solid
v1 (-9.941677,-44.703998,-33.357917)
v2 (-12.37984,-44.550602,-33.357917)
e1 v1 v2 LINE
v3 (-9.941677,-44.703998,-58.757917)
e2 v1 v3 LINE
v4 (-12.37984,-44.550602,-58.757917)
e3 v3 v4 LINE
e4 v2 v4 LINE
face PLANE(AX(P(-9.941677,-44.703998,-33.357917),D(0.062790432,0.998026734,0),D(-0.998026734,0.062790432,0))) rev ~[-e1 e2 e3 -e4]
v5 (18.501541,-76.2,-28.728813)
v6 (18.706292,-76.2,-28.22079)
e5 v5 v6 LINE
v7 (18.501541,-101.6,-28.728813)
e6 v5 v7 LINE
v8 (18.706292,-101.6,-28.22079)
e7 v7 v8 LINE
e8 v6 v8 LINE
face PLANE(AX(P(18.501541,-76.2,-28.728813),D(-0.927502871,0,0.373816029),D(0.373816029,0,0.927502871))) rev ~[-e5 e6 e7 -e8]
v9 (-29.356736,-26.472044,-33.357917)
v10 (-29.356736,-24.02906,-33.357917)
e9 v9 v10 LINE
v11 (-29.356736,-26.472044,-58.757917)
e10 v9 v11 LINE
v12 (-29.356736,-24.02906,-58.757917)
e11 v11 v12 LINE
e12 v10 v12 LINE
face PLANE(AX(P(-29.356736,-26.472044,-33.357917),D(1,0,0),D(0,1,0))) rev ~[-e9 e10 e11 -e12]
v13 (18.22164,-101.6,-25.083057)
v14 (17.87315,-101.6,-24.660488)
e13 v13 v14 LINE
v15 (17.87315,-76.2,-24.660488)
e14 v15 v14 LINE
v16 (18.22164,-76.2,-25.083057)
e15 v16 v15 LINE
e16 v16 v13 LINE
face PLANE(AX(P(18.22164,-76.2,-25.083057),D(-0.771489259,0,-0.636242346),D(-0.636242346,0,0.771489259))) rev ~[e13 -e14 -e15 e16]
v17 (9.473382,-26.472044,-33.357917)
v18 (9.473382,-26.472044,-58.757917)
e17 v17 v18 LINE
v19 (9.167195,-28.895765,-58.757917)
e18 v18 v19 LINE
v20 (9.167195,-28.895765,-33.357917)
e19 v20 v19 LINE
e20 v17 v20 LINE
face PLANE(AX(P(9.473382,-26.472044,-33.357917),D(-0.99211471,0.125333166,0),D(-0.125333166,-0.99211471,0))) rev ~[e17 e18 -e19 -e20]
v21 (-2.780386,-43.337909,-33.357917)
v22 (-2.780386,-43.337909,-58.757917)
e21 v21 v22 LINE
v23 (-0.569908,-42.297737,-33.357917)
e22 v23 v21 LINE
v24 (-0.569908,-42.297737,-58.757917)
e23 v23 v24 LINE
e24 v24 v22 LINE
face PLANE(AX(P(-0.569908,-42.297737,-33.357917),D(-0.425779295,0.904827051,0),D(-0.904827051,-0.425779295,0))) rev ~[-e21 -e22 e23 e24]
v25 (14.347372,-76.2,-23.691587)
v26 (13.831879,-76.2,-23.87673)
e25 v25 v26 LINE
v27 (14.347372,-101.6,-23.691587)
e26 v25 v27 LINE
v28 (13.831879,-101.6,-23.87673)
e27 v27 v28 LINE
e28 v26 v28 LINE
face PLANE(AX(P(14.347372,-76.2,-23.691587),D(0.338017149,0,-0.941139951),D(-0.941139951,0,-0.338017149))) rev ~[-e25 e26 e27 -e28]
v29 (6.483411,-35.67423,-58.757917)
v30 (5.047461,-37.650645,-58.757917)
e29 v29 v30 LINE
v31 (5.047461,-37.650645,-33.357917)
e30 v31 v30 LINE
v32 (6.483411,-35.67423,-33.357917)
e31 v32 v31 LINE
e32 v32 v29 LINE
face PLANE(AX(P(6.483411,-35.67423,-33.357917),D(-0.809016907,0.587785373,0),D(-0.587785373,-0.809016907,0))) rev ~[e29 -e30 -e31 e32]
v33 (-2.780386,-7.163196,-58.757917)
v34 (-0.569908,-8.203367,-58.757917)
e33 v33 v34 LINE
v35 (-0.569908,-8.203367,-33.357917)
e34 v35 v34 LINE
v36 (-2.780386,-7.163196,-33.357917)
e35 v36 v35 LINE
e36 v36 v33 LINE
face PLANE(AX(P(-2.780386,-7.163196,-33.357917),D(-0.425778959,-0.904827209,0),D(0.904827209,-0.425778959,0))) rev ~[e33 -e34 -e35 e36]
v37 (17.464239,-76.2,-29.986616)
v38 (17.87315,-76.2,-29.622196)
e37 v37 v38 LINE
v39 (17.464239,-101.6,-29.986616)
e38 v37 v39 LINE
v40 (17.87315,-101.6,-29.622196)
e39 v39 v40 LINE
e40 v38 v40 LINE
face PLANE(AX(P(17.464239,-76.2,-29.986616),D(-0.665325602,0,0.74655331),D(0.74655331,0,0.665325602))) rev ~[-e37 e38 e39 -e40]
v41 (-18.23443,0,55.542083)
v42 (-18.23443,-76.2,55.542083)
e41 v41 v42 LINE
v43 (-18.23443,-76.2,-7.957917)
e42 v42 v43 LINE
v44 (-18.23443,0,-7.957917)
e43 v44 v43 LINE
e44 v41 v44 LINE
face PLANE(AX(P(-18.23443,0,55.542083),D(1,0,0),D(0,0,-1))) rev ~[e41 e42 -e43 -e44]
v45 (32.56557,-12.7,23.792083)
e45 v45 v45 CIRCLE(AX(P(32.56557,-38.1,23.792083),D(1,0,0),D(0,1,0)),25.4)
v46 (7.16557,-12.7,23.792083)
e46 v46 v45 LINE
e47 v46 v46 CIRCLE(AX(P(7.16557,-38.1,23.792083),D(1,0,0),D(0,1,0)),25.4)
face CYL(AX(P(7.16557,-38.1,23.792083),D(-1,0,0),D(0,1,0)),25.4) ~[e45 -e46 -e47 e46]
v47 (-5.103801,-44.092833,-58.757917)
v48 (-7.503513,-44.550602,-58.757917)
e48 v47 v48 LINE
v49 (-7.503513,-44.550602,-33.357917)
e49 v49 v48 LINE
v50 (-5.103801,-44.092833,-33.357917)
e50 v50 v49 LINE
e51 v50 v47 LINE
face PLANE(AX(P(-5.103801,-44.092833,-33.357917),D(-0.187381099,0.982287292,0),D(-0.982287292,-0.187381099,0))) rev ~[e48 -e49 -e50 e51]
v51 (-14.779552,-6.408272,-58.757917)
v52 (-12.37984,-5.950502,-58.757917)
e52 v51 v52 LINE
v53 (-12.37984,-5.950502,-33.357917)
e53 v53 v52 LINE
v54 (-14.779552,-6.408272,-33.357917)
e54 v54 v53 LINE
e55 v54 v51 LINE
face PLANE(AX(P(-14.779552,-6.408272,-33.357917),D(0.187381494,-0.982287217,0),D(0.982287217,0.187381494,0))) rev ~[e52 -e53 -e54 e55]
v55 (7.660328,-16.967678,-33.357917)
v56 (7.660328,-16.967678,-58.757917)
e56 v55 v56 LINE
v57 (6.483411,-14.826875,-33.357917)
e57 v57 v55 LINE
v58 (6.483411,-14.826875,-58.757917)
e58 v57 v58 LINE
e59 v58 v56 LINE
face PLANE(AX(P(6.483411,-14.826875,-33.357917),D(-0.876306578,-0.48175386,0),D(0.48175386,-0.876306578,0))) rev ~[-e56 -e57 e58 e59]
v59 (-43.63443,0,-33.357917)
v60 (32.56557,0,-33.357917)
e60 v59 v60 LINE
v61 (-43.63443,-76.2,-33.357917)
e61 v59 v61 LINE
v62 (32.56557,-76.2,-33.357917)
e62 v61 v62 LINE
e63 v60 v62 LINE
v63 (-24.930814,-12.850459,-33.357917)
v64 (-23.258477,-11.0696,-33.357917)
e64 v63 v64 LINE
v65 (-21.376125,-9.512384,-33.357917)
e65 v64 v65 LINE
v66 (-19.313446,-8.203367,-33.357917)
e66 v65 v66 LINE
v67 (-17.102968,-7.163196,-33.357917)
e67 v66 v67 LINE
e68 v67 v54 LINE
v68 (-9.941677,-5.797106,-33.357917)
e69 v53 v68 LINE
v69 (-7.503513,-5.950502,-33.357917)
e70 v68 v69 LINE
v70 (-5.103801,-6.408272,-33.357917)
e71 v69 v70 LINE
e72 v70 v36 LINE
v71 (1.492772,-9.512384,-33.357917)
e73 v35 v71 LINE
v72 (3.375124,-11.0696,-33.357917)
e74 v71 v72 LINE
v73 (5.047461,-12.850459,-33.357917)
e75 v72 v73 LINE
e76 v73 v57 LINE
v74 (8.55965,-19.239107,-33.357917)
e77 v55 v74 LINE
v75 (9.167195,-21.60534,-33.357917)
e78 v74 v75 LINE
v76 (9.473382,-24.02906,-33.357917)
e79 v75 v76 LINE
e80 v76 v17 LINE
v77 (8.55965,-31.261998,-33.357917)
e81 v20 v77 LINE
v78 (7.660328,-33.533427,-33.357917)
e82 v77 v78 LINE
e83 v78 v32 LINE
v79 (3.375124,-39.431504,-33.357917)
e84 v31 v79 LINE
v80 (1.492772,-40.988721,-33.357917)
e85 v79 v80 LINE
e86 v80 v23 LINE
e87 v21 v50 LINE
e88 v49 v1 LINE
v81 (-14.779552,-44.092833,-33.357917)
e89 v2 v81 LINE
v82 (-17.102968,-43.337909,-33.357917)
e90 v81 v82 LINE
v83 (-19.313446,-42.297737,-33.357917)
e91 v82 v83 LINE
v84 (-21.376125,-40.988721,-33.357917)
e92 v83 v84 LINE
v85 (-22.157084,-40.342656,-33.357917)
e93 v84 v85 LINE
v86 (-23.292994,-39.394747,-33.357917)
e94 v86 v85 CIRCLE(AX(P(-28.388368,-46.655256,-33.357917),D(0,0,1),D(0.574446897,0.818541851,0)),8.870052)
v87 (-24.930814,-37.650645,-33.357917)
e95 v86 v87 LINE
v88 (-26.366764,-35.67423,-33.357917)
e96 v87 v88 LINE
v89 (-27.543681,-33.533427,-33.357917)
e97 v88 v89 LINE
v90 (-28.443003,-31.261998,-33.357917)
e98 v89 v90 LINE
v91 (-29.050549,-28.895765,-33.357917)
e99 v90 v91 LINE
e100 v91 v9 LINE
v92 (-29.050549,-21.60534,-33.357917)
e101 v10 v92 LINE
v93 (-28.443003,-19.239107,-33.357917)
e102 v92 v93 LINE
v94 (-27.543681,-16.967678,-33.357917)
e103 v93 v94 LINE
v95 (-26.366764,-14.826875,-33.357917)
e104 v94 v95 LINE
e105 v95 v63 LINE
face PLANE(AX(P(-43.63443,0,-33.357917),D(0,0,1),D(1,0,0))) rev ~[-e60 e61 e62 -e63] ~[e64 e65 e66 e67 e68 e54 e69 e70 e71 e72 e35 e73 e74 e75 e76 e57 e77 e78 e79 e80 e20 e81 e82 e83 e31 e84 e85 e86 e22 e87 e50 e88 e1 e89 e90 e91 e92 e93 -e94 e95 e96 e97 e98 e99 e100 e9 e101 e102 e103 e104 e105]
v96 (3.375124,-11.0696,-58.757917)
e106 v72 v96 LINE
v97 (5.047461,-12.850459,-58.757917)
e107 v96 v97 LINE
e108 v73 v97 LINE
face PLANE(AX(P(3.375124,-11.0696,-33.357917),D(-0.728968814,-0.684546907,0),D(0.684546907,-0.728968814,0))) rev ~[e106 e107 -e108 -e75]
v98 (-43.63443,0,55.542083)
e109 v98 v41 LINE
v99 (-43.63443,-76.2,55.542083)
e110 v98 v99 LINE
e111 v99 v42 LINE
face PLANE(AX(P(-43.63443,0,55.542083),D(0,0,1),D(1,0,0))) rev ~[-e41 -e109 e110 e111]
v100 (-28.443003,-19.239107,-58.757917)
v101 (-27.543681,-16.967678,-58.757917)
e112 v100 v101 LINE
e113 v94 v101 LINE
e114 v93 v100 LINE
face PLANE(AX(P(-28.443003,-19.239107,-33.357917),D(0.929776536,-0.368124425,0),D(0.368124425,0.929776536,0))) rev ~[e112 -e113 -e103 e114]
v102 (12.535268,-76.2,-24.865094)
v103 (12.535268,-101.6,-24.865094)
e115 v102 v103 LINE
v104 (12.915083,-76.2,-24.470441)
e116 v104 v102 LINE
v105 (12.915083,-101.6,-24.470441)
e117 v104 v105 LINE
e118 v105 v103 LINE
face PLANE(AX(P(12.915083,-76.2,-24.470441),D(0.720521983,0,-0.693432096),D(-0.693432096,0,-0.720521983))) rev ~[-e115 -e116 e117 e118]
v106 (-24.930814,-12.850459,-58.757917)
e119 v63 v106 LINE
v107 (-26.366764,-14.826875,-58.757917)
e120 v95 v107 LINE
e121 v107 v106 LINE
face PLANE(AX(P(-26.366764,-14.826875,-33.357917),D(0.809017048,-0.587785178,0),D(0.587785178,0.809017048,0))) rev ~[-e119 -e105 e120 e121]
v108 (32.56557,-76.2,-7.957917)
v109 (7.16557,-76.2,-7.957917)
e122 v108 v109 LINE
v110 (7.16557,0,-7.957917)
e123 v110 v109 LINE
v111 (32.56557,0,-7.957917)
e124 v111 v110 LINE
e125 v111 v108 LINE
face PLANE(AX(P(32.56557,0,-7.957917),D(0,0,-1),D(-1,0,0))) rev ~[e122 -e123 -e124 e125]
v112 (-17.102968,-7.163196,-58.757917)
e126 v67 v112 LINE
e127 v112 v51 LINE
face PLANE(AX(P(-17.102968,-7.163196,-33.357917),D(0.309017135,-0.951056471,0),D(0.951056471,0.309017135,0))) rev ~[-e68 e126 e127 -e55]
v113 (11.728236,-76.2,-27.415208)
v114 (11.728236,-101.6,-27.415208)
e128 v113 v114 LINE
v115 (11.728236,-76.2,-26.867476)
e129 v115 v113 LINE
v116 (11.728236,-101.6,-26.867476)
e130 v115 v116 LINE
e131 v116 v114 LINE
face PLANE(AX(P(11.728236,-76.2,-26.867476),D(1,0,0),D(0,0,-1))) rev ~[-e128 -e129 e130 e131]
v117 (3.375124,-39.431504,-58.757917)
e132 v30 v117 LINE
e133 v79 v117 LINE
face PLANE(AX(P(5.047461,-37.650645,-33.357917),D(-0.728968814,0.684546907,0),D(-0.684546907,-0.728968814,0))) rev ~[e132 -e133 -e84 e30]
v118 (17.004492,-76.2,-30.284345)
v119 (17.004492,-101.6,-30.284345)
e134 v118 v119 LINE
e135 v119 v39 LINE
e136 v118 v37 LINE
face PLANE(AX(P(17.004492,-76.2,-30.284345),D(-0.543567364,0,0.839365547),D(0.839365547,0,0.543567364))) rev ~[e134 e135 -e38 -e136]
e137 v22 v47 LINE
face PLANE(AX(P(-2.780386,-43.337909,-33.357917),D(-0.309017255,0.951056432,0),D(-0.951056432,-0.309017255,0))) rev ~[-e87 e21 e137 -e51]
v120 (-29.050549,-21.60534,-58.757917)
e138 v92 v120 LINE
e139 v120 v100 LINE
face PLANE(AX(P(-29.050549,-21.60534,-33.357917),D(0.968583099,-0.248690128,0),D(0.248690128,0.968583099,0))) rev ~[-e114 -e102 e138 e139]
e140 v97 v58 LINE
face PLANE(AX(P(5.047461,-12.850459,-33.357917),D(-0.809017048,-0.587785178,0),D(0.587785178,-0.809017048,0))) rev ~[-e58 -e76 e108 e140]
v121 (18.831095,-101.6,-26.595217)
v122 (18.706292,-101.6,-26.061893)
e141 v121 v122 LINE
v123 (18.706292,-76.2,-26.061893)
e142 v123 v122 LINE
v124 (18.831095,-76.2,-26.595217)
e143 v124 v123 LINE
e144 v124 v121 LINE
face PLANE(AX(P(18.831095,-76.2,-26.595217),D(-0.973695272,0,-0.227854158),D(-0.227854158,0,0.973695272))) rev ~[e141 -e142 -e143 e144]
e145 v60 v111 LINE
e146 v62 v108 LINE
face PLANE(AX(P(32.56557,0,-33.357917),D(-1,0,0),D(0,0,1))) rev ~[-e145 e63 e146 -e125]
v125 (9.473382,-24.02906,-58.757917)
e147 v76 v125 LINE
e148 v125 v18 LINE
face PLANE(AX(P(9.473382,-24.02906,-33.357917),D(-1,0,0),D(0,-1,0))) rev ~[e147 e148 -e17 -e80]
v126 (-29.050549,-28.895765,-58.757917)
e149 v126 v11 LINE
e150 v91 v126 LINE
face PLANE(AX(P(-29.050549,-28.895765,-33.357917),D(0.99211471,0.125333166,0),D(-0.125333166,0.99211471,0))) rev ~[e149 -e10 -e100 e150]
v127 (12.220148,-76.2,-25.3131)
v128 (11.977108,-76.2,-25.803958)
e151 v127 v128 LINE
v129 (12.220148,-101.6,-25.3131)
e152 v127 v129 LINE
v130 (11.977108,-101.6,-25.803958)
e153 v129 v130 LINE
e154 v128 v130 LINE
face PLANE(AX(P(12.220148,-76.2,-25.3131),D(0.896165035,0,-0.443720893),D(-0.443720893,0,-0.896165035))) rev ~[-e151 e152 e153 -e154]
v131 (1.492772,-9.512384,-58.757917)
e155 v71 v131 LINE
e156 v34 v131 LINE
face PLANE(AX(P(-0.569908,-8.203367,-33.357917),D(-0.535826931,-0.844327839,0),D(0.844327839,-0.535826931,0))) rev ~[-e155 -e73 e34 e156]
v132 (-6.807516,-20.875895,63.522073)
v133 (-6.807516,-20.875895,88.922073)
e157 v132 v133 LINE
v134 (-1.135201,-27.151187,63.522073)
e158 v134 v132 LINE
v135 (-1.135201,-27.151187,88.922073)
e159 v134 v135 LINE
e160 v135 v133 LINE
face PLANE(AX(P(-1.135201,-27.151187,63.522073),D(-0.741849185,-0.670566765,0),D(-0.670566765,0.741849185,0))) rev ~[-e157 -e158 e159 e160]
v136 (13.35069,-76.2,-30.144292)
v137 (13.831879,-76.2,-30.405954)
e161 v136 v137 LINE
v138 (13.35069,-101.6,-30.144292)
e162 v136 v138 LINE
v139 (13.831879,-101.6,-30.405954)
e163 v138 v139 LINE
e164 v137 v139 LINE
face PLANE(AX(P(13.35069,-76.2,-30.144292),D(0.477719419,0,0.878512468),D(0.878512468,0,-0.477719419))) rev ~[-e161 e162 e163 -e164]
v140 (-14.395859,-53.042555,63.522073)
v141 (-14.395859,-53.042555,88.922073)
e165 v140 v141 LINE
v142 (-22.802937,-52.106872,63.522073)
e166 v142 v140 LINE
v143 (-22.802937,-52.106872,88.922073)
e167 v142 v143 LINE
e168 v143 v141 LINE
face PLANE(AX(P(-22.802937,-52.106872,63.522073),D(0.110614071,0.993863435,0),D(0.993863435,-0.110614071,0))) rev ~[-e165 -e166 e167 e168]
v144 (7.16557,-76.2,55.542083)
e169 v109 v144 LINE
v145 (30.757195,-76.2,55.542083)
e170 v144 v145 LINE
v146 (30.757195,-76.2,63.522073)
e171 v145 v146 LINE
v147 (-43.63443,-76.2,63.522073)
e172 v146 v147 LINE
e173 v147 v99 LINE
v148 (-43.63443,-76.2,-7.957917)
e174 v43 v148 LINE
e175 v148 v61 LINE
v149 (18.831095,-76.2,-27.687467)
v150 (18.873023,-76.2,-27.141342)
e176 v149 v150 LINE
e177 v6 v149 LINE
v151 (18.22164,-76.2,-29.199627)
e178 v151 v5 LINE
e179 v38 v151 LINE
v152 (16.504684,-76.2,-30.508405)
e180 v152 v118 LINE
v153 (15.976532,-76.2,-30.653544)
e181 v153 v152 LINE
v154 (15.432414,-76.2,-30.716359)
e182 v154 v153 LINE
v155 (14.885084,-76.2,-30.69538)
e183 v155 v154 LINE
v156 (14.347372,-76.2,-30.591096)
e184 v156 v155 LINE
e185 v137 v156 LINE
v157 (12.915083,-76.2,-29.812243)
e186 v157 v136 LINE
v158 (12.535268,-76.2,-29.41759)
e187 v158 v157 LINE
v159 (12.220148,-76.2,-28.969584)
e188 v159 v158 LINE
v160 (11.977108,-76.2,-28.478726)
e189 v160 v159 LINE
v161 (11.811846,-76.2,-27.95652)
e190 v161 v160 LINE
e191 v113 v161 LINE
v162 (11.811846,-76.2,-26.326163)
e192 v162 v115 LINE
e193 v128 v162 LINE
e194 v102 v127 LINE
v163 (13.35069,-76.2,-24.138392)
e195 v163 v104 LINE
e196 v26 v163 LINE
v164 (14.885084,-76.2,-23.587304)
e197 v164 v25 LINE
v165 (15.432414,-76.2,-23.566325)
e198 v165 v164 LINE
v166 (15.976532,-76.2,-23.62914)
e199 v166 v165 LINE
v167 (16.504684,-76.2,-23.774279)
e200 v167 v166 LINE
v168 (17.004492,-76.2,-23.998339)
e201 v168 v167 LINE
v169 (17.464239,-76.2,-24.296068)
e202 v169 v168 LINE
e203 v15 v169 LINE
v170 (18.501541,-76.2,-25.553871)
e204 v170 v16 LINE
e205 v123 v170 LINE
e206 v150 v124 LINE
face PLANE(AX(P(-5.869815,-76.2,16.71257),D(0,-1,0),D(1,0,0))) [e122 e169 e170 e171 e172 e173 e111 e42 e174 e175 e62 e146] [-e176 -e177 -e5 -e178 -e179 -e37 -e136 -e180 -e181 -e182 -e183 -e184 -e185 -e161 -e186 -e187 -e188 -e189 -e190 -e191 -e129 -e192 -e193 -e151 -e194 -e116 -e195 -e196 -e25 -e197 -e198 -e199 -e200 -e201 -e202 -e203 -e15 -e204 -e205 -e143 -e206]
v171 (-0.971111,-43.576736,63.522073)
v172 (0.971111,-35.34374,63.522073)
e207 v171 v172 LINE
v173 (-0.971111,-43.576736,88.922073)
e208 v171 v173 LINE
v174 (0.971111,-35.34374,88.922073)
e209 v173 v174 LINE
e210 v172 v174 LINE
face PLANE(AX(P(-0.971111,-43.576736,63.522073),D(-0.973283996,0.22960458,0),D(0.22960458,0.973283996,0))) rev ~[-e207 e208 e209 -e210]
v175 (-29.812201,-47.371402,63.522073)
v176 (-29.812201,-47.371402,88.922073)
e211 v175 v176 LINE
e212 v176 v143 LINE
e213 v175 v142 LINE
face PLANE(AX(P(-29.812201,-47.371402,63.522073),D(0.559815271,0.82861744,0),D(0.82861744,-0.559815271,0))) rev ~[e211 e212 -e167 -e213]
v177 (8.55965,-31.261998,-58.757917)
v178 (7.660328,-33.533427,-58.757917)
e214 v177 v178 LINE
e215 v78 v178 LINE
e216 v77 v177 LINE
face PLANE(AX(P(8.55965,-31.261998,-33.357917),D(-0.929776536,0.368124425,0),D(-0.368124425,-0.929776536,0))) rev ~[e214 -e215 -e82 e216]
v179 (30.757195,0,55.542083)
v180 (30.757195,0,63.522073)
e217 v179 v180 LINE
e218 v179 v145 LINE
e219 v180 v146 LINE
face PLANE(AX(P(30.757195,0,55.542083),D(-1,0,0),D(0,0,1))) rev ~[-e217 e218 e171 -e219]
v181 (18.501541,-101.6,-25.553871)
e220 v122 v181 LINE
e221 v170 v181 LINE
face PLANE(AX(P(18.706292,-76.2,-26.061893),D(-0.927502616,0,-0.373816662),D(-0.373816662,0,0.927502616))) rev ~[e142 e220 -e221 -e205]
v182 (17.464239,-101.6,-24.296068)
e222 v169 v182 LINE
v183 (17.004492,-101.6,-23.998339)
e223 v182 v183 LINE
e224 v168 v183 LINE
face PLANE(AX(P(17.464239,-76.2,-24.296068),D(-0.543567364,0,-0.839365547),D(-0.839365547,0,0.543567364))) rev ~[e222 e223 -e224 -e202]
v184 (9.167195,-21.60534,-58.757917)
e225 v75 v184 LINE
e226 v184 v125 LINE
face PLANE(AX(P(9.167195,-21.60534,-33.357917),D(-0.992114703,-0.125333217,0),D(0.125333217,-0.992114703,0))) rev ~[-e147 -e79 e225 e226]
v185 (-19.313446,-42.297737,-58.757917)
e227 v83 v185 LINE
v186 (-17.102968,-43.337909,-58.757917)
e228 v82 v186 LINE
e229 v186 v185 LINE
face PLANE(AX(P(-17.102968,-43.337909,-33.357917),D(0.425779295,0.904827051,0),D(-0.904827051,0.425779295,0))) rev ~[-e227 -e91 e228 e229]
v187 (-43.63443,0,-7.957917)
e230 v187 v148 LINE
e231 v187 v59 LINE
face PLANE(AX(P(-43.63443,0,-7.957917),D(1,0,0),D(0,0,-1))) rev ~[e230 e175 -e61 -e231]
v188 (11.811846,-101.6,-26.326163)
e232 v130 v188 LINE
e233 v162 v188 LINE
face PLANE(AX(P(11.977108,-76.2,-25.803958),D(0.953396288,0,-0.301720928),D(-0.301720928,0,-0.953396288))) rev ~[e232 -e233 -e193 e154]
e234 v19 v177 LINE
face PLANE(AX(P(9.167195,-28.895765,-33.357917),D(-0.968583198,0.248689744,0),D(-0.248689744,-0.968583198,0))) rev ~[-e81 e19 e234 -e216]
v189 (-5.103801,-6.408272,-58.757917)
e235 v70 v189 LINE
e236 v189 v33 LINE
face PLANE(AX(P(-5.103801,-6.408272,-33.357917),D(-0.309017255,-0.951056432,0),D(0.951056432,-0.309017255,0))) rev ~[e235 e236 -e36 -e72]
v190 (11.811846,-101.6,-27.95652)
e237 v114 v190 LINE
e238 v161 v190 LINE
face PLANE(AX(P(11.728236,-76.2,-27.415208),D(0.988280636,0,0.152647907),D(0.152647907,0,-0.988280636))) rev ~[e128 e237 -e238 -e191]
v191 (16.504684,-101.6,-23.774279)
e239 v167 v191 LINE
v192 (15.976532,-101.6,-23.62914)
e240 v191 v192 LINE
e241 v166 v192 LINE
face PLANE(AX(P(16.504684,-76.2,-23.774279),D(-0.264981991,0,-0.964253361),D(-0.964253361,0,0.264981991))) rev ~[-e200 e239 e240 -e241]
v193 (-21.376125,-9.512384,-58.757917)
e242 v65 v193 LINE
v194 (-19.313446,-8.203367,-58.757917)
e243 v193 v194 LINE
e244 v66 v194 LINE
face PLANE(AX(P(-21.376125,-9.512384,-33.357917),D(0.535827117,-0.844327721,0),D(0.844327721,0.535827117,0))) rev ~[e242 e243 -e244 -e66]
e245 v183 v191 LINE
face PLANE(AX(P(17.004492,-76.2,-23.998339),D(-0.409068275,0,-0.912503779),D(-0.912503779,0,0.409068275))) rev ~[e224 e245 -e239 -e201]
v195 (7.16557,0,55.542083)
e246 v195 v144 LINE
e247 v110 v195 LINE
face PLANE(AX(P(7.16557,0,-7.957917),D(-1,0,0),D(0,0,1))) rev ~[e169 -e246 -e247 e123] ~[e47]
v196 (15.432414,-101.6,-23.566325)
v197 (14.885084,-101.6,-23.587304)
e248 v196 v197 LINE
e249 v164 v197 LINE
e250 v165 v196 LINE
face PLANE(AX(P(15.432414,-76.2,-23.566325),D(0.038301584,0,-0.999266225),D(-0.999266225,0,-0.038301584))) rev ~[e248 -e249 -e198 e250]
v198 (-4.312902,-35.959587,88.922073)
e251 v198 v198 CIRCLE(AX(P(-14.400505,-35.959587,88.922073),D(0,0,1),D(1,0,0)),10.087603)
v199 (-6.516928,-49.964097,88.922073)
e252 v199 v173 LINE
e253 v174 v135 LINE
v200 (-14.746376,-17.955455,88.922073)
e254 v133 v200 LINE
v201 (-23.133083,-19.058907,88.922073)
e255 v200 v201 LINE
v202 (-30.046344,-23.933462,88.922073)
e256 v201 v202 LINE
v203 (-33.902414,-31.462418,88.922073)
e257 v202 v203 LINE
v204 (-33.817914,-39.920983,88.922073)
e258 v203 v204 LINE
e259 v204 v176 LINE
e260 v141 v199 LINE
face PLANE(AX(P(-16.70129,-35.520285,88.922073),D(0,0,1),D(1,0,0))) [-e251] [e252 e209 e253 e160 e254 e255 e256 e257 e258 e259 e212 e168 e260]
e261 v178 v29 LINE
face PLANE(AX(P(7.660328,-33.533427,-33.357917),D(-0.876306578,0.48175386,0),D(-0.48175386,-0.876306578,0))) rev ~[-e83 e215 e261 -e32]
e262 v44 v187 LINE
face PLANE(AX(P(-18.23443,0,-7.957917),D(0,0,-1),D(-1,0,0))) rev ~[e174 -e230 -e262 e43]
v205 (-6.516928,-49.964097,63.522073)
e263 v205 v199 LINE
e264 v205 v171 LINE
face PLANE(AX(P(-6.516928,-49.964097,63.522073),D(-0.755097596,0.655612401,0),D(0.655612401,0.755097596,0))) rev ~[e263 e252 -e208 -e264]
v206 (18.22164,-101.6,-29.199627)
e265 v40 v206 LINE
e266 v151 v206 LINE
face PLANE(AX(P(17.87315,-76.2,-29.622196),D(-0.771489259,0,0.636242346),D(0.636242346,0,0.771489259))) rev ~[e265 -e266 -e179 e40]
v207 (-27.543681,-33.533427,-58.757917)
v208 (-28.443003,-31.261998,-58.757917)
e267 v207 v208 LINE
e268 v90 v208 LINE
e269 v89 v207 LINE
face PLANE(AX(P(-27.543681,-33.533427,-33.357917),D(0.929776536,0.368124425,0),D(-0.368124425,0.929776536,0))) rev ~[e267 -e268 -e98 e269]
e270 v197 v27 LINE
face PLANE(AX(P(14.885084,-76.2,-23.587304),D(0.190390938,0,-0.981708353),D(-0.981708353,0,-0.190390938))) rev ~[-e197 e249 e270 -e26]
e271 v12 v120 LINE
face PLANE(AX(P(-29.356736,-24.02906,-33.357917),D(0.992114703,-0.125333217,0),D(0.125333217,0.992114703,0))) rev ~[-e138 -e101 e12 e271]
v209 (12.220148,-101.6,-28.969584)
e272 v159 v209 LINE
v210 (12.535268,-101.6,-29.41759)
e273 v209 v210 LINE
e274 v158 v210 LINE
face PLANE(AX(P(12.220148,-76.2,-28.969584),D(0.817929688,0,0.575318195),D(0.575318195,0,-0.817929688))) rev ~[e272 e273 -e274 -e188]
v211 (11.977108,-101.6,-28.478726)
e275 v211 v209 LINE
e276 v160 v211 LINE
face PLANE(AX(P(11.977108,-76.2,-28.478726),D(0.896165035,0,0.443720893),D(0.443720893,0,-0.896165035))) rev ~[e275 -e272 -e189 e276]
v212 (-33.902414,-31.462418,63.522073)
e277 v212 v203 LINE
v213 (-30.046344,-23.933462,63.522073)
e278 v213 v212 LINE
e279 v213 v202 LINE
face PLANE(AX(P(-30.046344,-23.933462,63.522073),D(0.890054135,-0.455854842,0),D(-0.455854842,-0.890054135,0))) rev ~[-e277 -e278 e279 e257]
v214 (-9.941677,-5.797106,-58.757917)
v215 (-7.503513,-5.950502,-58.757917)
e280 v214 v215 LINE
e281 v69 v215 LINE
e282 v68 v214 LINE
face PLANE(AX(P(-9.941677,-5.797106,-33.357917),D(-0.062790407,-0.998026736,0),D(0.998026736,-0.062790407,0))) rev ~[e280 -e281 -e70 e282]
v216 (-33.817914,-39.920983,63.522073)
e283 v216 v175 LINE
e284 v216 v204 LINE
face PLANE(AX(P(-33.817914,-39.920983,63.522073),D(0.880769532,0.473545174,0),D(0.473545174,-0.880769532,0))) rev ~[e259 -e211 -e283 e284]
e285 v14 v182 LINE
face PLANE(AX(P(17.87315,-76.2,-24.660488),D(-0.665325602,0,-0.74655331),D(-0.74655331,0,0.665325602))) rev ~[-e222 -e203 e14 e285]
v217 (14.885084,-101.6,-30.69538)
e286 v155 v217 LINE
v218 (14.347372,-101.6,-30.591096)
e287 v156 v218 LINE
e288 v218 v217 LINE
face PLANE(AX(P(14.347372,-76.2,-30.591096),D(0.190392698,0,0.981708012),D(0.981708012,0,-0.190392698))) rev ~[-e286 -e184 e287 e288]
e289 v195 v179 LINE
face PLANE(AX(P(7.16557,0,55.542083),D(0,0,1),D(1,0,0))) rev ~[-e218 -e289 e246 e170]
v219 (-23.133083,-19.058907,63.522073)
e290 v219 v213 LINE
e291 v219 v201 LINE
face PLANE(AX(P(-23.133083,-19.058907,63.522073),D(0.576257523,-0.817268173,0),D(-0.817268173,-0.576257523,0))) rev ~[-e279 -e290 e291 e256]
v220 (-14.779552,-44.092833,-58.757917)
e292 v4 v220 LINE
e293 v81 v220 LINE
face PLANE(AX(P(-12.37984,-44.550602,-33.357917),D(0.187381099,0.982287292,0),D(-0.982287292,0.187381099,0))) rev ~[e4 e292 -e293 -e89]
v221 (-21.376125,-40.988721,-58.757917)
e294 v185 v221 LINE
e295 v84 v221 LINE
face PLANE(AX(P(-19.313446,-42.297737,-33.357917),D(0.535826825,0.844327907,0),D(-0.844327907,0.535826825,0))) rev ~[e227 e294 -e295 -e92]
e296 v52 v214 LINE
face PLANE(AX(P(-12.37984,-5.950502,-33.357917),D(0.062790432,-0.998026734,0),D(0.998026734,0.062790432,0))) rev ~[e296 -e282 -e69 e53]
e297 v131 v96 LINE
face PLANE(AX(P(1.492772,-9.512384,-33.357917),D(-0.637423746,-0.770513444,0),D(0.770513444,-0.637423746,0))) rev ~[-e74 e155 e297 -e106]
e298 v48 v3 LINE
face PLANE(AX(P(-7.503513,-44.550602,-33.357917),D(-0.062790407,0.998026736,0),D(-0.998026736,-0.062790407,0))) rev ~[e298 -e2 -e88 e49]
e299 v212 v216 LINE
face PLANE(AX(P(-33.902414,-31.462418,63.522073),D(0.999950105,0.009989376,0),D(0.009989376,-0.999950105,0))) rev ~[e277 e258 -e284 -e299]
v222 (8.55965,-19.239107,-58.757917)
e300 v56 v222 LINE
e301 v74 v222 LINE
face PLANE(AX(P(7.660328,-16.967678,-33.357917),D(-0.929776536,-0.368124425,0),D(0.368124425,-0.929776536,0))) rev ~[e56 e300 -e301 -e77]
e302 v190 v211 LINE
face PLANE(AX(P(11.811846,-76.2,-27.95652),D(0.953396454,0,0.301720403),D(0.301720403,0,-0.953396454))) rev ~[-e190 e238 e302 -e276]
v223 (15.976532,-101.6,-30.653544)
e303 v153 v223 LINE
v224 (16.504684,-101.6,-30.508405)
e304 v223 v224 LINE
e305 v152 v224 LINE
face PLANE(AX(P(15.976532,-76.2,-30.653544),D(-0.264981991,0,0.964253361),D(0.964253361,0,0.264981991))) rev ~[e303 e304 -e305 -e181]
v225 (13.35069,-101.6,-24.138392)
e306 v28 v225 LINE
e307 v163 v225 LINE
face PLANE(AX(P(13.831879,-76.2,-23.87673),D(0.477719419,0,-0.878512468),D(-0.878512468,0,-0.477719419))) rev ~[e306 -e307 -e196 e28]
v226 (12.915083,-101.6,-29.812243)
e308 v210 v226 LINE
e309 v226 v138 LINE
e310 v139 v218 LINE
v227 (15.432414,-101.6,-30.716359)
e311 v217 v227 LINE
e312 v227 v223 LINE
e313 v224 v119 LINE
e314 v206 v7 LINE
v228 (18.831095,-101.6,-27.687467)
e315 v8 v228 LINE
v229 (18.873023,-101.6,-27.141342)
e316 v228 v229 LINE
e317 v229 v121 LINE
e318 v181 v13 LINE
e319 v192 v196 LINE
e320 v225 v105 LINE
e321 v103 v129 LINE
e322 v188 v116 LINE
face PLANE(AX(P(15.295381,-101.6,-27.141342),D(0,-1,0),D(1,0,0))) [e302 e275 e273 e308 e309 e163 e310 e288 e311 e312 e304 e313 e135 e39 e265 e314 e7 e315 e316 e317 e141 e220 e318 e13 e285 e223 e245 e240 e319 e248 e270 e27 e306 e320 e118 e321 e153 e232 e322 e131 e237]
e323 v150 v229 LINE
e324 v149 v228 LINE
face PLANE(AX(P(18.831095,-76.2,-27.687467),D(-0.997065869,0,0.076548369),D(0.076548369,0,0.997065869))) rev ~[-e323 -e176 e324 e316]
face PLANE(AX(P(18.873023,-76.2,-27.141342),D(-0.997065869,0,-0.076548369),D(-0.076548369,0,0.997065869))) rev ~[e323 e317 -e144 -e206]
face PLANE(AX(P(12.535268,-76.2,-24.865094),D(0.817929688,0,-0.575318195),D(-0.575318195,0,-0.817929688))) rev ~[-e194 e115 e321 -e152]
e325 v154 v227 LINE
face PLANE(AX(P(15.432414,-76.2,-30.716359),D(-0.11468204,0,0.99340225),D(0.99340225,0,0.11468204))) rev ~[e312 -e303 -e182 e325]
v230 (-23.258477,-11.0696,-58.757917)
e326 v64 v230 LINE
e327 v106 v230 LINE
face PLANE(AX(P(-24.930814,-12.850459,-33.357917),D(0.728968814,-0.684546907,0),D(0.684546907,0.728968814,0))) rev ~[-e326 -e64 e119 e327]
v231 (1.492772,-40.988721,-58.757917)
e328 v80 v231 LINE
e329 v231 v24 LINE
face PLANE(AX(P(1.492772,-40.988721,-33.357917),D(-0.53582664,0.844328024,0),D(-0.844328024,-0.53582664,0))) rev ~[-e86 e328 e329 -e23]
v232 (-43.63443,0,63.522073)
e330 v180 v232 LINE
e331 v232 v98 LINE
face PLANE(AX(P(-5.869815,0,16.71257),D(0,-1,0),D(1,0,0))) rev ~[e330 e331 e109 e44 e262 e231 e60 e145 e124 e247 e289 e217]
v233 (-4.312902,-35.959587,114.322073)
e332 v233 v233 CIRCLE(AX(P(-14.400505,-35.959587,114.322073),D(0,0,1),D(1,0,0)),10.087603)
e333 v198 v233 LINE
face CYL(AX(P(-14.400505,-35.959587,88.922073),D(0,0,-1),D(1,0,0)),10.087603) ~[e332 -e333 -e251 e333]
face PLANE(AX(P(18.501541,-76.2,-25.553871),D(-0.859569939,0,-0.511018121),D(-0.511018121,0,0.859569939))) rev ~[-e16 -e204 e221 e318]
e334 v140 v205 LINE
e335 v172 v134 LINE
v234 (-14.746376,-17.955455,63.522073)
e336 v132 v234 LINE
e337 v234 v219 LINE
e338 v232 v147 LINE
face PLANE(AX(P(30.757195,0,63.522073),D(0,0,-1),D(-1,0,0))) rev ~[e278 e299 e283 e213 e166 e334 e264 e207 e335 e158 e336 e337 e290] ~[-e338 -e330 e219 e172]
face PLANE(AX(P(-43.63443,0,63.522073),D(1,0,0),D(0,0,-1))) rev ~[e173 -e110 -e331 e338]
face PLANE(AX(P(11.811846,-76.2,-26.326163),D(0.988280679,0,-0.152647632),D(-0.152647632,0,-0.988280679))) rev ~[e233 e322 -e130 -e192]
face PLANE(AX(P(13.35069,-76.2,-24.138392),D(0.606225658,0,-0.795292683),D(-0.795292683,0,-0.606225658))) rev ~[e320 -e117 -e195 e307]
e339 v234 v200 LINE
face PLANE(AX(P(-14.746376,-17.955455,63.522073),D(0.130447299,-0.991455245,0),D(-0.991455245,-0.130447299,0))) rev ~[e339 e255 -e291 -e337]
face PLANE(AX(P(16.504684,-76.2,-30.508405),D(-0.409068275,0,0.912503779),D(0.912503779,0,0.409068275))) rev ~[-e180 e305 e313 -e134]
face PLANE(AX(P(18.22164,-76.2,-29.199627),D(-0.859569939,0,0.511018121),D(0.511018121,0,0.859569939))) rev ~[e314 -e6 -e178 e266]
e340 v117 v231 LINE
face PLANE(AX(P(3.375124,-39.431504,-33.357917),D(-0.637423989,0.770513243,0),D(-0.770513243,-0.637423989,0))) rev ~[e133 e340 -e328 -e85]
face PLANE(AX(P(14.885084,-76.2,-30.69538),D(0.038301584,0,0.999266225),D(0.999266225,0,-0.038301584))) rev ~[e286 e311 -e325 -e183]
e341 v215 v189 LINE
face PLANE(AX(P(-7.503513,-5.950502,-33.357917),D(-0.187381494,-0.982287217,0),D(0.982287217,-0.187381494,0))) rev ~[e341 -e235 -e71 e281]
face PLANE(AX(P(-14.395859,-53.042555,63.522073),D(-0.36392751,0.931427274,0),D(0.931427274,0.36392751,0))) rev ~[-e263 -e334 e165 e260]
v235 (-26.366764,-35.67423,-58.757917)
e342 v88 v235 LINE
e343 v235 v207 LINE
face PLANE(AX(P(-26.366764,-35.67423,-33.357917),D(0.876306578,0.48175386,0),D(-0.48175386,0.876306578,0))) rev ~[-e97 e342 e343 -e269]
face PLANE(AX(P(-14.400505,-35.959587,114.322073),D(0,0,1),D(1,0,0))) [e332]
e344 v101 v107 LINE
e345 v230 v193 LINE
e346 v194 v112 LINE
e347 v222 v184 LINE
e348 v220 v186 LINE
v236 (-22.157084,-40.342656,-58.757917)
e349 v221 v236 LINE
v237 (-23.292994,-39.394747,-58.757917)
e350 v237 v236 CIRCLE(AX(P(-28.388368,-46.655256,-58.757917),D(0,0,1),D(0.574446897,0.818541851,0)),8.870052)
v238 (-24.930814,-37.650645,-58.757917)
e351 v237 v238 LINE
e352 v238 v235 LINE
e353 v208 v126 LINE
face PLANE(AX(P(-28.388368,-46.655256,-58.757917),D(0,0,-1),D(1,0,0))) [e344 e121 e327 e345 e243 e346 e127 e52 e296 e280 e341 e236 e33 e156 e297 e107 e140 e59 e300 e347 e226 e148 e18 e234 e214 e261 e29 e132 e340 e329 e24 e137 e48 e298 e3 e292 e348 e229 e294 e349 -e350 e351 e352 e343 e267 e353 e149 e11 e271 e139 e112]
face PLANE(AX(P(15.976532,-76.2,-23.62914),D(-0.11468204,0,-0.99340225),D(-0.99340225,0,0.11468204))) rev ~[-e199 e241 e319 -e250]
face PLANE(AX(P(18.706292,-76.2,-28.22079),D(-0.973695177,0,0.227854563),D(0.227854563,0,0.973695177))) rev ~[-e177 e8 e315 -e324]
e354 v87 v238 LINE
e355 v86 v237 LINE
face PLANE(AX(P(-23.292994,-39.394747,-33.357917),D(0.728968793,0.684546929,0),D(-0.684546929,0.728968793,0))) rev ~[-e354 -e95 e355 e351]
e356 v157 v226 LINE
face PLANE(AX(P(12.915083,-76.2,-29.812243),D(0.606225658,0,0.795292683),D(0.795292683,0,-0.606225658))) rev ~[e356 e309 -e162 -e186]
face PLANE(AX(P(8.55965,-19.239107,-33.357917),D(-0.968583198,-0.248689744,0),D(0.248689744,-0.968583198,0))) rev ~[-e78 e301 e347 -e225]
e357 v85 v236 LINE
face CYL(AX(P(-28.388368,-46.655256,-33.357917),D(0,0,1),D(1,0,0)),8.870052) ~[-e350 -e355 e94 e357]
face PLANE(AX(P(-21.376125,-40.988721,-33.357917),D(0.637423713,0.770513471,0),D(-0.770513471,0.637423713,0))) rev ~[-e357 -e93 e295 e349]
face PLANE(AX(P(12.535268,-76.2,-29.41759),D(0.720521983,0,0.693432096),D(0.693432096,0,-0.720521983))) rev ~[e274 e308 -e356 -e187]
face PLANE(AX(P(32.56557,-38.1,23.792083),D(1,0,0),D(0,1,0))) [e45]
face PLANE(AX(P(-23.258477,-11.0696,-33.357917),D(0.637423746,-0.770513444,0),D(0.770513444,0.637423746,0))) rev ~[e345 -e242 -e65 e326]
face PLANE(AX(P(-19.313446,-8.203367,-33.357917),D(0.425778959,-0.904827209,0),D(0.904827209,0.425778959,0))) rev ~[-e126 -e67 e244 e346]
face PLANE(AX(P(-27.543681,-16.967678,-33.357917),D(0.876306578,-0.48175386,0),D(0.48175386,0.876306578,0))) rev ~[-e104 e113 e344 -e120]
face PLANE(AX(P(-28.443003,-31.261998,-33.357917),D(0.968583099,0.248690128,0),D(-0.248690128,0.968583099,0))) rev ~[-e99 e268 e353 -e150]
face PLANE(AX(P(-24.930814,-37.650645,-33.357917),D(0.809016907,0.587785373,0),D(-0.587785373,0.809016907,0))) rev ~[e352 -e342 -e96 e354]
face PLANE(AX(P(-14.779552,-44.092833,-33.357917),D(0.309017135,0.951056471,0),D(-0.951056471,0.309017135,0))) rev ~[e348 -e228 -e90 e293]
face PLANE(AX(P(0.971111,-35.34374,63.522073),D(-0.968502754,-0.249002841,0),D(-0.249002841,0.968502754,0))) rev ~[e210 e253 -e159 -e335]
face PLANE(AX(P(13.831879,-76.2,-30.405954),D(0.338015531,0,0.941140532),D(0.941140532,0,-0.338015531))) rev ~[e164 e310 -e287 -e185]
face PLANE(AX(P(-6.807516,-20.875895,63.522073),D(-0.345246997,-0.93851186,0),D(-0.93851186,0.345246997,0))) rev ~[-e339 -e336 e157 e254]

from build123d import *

# Parameters (mm, degrees)
F1_DEPTH  = 76.2
F2_R      = 25.4
F3_DEPTH  = 25.4
F5_DEPTH  = 25.4
F6_R      = 10.087603
F7_DEPTH  = 25.4
F9_DEPTH  = 25.4
F10_R     = 8.870052
F11_DEPTH = 25.4
F13_DEPTH = 25.4


with BuildPart() as f1:
    # F0 (on Front) → F1 (new body)
    with BuildSketch(Plane.XZ):
        Polygon((-43.63443, -7.957917), (-43.63443, -33.357917), (32.56557, -33.357917), (32.56557, -7.957917), (7.16557, -7.957917), (7.16557, 55.542083), (30.757195, 55.542083), (30.757195, 63.522073), (-43.63443, 63.522073), (-43.63443, 55.542083), (-18.23443, 55.542083), (-18.23443, -7.957917), align=None)
    extrude(amount=F1_DEPTH)

    # F2 (on face) → F3 (join)
    with BuildSketch(Plane.YZ.offset(7.16557)):
        with Locations((-38.1, 23.792083)):
            Circle(F2_R)
    extrude(amount=F3_DEPTH)

    # F4 (on face) → F5 (join)
    with BuildSketch(Plane.XY.offset(63.522073)):
        Polygon((-0.971111, -43.576736), (0.971111, -35.34374), (-1.135201, -27.151187), (-6.807516, -20.875895), (-14.746376, -17.955455), (-23.133083, -19.058907), (-30.046344, -23.933462), (-33.902414, -31.462418), (-33.817914, -39.920983), (-29.812201, -47.371402), (-22.802937, -52.106872), (-14.395859, -53.042555), (-6.516928, -49.964097), align=None)
    extrude(amount=F5_DEPTH)

    # F6 (on face) → F7 (join)
    with BuildSketch(Plane.XY.offset(88.922073)):
        with Locations((-14.400505, -35.959587)):
            Circle(F6_R)
    extrude(amount=F7_DEPTH)

    # F8 (on face) → F9 (join)
    with BuildSketch(Plane.XZ.offset(76.2)):
        Polygon((11.728236, -26.867476), (11.728236, -27.415208), (11.811846, -27.95652), (11.977108, -28.478726), (12.220148, -28.969584), (12.535268, -29.41759), (12.915083, -29.812243), (13.35069, -30.144292), (13.831879, -30.405954), (14.347372, -30.591096), (14.885084, -30.69538), (15.432414, -30.716359), (15.976532, -30.653544), (16.504684, -30.508405), (17.004492, -30.284345), (17.464239, -29.986616), (17.87315, -29.622196), (18.22164, -29.199627), (18.501541, -28.728813), (18.706292, -28.22079), (18.831095, -27.687467), (18.873023, -27.141342), (18.831095, -26.595217), (18.706292, -26.061893), (18.501541, -25.553871), (18.22164, -25.083057), (17.87315, -24.660488), (17.464239, -24.296068), (17.004492, -23.998339), (16.504684, -23.774279), (15.976532, -23.62914), (15.432414, -23.566325), (14.885084, -23.587304), (14.347372, -23.691587), (13.831879, -23.87673), (13.35069, -24.138392), (12.915083, -24.470441), (12.535268, -24.865094), (12.220148, -25.3131), (11.977108, -25.803958), (11.811846, -26.326163), align=None)
    extrude(amount=F9_DEPTH)

    # F10 (on face) → F11 (join)
    with BuildSketch(Plane(origin=(0, 0, -33.357917), x_dir=(1, 0, 0), z_dir=(0, 0, -1))):
        with Locations((-28.388368, 46.655256)):
            Circle(F10_R)
    extrude(amount=F11_DEPTH)

    # F12 (on face) → F13 (join)
    with BuildSketch(Plane(origin=(0, 0, -33.357917), x_dir=(1, 0, 0), z_dir=(0, 0, -1))):
        with BuildLine():
            Line((9.473382, 24.02906), (9.473382, 26.472044))
            Line((9.473382, 26.472044), (9.167195, 28.895765))
            Line((9.167195, 28.895765), (8.55965, 31.261998))
            Line((8.55965, 31.261998), (7.660328, 33.533427))
            Line((7.660328, 33.533427), (6.483411, 35.67423))
            Line((6.483411, 35.67423), (5.047461, 37.650645))
            Line((5.047461, 37.650645), (3.375124, 39.431504))
            Line((3.375124, 39.431504), (1.492772, 40.988721))
            Line((1.492772, 40.988721), (-0.569908, 42.297737))
            Line((-0.569908, 42.297737), (-2.780386, 43.337909))
            Line((-2.780386, 43.337909), (-5.103801, 44.092833))
            Line((-5.103801, 44.092833), (-7.503513, 44.550602))
            Line((-7.503513, 44.550602), (-9.941677, 44.703998))
            Line((-9.941677, 44.703998), (-12.37984, 44.550602))
            Line((-12.37984, 44.550602), (-14.779552, 44.092833))
            Line((-14.779552, 44.092833), (-17.102968, 43.337909))
            Line((-17.102968, 43.337909), (-19.313446, 42.297737))
            Line((-19.313446, 42.297737), (-21.376125, 40.988721))
            Line((-21.376125, 40.988721), (-22.157084, 40.342656))
            ThreePointArc((-22.157084, 40.342656), (-22.705241, 39.844977), (-23.292994, 39.394747))
            Line((-23.292994, 39.394747), (-24.930814, 37.650645))
            Line((-24.930814, 37.650645), (-26.366764, 35.67423))
            Line((-26.366764, 35.67423), (-27.543681, 33.533427))
            Line((-27.543681, 33.533427), (-28.443003, 31.261998))
            Line((-28.443003, 31.261998), (-29.050549, 28.895765))
            Line((-29.050549, 28.895765), (-29.356736, 26.472044))
            Line((-29.356736, 26.472044), (-29.356736, 24.02906))
            Line((-29.356736, 24.02906), (-29.050549, 21.60534))
            Line((-29.050549, 21.60534), (-28.443003, 19.239107))
            Line((-28.443003, 19.239107), (-27.543681, 16.967678))
            Line((-27.543681, 16.967678), (-26.366764, 14.826875))
            Line((-26.366764, 14.826875), (-24.930814, 12.850459))
            Line((-24.930814, 12.850459), (-23.258477, 11.0696))
            Line((-23.258477, 11.0696), (-21.376125, 9.512384))
            Line((-21.376125, 9.512384), (-19.313446, 8.203367))
            Line((-19.313446, 8.203367), (-17.102968, 7.163196))
            Line((-17.102968, 7.163196), (-14.779552, 6.408272))
            Line((-14.779552, 6.408272), (-12.37984, 5.950502))
            Line((-12.37984, 5.950502), (-9.941677, 5.797106))
            Line((-9.941677, 5.797106), (-7.503513, 5.950502))
            Line((-7.503513, 5.950502), (-5.103801, 6.408272))
            Line((-5.103801, 6.408272), (-2.780386, 7.163196))
            Line((-2.780386, 7.163196), (-0.569908, 8.203367))
            Line((-0.569908, 8.203367), (1.492772, 9.512384))
            Line((1.492772, 9.512384), (3.375124, 11.0696))
            Line((3.375124, 11.0696), (5.047461, 12.850459))
            Line((5.047461, 12.850459), (6.483411, 14.826875))
            Line((6.483411, 14.826875), (7.660328, 16.967678))
            Line((7.660328, 16.967678), (8.55965, 19.239107))
            Line((8.55965, 19.239107), (9.167195, 21.60534))
            Line((9.167195, 21.60534), (9.473382, 24.02906))
        make_face()
    extrude(amount=F13_DEPTH)


solid = f1.part
